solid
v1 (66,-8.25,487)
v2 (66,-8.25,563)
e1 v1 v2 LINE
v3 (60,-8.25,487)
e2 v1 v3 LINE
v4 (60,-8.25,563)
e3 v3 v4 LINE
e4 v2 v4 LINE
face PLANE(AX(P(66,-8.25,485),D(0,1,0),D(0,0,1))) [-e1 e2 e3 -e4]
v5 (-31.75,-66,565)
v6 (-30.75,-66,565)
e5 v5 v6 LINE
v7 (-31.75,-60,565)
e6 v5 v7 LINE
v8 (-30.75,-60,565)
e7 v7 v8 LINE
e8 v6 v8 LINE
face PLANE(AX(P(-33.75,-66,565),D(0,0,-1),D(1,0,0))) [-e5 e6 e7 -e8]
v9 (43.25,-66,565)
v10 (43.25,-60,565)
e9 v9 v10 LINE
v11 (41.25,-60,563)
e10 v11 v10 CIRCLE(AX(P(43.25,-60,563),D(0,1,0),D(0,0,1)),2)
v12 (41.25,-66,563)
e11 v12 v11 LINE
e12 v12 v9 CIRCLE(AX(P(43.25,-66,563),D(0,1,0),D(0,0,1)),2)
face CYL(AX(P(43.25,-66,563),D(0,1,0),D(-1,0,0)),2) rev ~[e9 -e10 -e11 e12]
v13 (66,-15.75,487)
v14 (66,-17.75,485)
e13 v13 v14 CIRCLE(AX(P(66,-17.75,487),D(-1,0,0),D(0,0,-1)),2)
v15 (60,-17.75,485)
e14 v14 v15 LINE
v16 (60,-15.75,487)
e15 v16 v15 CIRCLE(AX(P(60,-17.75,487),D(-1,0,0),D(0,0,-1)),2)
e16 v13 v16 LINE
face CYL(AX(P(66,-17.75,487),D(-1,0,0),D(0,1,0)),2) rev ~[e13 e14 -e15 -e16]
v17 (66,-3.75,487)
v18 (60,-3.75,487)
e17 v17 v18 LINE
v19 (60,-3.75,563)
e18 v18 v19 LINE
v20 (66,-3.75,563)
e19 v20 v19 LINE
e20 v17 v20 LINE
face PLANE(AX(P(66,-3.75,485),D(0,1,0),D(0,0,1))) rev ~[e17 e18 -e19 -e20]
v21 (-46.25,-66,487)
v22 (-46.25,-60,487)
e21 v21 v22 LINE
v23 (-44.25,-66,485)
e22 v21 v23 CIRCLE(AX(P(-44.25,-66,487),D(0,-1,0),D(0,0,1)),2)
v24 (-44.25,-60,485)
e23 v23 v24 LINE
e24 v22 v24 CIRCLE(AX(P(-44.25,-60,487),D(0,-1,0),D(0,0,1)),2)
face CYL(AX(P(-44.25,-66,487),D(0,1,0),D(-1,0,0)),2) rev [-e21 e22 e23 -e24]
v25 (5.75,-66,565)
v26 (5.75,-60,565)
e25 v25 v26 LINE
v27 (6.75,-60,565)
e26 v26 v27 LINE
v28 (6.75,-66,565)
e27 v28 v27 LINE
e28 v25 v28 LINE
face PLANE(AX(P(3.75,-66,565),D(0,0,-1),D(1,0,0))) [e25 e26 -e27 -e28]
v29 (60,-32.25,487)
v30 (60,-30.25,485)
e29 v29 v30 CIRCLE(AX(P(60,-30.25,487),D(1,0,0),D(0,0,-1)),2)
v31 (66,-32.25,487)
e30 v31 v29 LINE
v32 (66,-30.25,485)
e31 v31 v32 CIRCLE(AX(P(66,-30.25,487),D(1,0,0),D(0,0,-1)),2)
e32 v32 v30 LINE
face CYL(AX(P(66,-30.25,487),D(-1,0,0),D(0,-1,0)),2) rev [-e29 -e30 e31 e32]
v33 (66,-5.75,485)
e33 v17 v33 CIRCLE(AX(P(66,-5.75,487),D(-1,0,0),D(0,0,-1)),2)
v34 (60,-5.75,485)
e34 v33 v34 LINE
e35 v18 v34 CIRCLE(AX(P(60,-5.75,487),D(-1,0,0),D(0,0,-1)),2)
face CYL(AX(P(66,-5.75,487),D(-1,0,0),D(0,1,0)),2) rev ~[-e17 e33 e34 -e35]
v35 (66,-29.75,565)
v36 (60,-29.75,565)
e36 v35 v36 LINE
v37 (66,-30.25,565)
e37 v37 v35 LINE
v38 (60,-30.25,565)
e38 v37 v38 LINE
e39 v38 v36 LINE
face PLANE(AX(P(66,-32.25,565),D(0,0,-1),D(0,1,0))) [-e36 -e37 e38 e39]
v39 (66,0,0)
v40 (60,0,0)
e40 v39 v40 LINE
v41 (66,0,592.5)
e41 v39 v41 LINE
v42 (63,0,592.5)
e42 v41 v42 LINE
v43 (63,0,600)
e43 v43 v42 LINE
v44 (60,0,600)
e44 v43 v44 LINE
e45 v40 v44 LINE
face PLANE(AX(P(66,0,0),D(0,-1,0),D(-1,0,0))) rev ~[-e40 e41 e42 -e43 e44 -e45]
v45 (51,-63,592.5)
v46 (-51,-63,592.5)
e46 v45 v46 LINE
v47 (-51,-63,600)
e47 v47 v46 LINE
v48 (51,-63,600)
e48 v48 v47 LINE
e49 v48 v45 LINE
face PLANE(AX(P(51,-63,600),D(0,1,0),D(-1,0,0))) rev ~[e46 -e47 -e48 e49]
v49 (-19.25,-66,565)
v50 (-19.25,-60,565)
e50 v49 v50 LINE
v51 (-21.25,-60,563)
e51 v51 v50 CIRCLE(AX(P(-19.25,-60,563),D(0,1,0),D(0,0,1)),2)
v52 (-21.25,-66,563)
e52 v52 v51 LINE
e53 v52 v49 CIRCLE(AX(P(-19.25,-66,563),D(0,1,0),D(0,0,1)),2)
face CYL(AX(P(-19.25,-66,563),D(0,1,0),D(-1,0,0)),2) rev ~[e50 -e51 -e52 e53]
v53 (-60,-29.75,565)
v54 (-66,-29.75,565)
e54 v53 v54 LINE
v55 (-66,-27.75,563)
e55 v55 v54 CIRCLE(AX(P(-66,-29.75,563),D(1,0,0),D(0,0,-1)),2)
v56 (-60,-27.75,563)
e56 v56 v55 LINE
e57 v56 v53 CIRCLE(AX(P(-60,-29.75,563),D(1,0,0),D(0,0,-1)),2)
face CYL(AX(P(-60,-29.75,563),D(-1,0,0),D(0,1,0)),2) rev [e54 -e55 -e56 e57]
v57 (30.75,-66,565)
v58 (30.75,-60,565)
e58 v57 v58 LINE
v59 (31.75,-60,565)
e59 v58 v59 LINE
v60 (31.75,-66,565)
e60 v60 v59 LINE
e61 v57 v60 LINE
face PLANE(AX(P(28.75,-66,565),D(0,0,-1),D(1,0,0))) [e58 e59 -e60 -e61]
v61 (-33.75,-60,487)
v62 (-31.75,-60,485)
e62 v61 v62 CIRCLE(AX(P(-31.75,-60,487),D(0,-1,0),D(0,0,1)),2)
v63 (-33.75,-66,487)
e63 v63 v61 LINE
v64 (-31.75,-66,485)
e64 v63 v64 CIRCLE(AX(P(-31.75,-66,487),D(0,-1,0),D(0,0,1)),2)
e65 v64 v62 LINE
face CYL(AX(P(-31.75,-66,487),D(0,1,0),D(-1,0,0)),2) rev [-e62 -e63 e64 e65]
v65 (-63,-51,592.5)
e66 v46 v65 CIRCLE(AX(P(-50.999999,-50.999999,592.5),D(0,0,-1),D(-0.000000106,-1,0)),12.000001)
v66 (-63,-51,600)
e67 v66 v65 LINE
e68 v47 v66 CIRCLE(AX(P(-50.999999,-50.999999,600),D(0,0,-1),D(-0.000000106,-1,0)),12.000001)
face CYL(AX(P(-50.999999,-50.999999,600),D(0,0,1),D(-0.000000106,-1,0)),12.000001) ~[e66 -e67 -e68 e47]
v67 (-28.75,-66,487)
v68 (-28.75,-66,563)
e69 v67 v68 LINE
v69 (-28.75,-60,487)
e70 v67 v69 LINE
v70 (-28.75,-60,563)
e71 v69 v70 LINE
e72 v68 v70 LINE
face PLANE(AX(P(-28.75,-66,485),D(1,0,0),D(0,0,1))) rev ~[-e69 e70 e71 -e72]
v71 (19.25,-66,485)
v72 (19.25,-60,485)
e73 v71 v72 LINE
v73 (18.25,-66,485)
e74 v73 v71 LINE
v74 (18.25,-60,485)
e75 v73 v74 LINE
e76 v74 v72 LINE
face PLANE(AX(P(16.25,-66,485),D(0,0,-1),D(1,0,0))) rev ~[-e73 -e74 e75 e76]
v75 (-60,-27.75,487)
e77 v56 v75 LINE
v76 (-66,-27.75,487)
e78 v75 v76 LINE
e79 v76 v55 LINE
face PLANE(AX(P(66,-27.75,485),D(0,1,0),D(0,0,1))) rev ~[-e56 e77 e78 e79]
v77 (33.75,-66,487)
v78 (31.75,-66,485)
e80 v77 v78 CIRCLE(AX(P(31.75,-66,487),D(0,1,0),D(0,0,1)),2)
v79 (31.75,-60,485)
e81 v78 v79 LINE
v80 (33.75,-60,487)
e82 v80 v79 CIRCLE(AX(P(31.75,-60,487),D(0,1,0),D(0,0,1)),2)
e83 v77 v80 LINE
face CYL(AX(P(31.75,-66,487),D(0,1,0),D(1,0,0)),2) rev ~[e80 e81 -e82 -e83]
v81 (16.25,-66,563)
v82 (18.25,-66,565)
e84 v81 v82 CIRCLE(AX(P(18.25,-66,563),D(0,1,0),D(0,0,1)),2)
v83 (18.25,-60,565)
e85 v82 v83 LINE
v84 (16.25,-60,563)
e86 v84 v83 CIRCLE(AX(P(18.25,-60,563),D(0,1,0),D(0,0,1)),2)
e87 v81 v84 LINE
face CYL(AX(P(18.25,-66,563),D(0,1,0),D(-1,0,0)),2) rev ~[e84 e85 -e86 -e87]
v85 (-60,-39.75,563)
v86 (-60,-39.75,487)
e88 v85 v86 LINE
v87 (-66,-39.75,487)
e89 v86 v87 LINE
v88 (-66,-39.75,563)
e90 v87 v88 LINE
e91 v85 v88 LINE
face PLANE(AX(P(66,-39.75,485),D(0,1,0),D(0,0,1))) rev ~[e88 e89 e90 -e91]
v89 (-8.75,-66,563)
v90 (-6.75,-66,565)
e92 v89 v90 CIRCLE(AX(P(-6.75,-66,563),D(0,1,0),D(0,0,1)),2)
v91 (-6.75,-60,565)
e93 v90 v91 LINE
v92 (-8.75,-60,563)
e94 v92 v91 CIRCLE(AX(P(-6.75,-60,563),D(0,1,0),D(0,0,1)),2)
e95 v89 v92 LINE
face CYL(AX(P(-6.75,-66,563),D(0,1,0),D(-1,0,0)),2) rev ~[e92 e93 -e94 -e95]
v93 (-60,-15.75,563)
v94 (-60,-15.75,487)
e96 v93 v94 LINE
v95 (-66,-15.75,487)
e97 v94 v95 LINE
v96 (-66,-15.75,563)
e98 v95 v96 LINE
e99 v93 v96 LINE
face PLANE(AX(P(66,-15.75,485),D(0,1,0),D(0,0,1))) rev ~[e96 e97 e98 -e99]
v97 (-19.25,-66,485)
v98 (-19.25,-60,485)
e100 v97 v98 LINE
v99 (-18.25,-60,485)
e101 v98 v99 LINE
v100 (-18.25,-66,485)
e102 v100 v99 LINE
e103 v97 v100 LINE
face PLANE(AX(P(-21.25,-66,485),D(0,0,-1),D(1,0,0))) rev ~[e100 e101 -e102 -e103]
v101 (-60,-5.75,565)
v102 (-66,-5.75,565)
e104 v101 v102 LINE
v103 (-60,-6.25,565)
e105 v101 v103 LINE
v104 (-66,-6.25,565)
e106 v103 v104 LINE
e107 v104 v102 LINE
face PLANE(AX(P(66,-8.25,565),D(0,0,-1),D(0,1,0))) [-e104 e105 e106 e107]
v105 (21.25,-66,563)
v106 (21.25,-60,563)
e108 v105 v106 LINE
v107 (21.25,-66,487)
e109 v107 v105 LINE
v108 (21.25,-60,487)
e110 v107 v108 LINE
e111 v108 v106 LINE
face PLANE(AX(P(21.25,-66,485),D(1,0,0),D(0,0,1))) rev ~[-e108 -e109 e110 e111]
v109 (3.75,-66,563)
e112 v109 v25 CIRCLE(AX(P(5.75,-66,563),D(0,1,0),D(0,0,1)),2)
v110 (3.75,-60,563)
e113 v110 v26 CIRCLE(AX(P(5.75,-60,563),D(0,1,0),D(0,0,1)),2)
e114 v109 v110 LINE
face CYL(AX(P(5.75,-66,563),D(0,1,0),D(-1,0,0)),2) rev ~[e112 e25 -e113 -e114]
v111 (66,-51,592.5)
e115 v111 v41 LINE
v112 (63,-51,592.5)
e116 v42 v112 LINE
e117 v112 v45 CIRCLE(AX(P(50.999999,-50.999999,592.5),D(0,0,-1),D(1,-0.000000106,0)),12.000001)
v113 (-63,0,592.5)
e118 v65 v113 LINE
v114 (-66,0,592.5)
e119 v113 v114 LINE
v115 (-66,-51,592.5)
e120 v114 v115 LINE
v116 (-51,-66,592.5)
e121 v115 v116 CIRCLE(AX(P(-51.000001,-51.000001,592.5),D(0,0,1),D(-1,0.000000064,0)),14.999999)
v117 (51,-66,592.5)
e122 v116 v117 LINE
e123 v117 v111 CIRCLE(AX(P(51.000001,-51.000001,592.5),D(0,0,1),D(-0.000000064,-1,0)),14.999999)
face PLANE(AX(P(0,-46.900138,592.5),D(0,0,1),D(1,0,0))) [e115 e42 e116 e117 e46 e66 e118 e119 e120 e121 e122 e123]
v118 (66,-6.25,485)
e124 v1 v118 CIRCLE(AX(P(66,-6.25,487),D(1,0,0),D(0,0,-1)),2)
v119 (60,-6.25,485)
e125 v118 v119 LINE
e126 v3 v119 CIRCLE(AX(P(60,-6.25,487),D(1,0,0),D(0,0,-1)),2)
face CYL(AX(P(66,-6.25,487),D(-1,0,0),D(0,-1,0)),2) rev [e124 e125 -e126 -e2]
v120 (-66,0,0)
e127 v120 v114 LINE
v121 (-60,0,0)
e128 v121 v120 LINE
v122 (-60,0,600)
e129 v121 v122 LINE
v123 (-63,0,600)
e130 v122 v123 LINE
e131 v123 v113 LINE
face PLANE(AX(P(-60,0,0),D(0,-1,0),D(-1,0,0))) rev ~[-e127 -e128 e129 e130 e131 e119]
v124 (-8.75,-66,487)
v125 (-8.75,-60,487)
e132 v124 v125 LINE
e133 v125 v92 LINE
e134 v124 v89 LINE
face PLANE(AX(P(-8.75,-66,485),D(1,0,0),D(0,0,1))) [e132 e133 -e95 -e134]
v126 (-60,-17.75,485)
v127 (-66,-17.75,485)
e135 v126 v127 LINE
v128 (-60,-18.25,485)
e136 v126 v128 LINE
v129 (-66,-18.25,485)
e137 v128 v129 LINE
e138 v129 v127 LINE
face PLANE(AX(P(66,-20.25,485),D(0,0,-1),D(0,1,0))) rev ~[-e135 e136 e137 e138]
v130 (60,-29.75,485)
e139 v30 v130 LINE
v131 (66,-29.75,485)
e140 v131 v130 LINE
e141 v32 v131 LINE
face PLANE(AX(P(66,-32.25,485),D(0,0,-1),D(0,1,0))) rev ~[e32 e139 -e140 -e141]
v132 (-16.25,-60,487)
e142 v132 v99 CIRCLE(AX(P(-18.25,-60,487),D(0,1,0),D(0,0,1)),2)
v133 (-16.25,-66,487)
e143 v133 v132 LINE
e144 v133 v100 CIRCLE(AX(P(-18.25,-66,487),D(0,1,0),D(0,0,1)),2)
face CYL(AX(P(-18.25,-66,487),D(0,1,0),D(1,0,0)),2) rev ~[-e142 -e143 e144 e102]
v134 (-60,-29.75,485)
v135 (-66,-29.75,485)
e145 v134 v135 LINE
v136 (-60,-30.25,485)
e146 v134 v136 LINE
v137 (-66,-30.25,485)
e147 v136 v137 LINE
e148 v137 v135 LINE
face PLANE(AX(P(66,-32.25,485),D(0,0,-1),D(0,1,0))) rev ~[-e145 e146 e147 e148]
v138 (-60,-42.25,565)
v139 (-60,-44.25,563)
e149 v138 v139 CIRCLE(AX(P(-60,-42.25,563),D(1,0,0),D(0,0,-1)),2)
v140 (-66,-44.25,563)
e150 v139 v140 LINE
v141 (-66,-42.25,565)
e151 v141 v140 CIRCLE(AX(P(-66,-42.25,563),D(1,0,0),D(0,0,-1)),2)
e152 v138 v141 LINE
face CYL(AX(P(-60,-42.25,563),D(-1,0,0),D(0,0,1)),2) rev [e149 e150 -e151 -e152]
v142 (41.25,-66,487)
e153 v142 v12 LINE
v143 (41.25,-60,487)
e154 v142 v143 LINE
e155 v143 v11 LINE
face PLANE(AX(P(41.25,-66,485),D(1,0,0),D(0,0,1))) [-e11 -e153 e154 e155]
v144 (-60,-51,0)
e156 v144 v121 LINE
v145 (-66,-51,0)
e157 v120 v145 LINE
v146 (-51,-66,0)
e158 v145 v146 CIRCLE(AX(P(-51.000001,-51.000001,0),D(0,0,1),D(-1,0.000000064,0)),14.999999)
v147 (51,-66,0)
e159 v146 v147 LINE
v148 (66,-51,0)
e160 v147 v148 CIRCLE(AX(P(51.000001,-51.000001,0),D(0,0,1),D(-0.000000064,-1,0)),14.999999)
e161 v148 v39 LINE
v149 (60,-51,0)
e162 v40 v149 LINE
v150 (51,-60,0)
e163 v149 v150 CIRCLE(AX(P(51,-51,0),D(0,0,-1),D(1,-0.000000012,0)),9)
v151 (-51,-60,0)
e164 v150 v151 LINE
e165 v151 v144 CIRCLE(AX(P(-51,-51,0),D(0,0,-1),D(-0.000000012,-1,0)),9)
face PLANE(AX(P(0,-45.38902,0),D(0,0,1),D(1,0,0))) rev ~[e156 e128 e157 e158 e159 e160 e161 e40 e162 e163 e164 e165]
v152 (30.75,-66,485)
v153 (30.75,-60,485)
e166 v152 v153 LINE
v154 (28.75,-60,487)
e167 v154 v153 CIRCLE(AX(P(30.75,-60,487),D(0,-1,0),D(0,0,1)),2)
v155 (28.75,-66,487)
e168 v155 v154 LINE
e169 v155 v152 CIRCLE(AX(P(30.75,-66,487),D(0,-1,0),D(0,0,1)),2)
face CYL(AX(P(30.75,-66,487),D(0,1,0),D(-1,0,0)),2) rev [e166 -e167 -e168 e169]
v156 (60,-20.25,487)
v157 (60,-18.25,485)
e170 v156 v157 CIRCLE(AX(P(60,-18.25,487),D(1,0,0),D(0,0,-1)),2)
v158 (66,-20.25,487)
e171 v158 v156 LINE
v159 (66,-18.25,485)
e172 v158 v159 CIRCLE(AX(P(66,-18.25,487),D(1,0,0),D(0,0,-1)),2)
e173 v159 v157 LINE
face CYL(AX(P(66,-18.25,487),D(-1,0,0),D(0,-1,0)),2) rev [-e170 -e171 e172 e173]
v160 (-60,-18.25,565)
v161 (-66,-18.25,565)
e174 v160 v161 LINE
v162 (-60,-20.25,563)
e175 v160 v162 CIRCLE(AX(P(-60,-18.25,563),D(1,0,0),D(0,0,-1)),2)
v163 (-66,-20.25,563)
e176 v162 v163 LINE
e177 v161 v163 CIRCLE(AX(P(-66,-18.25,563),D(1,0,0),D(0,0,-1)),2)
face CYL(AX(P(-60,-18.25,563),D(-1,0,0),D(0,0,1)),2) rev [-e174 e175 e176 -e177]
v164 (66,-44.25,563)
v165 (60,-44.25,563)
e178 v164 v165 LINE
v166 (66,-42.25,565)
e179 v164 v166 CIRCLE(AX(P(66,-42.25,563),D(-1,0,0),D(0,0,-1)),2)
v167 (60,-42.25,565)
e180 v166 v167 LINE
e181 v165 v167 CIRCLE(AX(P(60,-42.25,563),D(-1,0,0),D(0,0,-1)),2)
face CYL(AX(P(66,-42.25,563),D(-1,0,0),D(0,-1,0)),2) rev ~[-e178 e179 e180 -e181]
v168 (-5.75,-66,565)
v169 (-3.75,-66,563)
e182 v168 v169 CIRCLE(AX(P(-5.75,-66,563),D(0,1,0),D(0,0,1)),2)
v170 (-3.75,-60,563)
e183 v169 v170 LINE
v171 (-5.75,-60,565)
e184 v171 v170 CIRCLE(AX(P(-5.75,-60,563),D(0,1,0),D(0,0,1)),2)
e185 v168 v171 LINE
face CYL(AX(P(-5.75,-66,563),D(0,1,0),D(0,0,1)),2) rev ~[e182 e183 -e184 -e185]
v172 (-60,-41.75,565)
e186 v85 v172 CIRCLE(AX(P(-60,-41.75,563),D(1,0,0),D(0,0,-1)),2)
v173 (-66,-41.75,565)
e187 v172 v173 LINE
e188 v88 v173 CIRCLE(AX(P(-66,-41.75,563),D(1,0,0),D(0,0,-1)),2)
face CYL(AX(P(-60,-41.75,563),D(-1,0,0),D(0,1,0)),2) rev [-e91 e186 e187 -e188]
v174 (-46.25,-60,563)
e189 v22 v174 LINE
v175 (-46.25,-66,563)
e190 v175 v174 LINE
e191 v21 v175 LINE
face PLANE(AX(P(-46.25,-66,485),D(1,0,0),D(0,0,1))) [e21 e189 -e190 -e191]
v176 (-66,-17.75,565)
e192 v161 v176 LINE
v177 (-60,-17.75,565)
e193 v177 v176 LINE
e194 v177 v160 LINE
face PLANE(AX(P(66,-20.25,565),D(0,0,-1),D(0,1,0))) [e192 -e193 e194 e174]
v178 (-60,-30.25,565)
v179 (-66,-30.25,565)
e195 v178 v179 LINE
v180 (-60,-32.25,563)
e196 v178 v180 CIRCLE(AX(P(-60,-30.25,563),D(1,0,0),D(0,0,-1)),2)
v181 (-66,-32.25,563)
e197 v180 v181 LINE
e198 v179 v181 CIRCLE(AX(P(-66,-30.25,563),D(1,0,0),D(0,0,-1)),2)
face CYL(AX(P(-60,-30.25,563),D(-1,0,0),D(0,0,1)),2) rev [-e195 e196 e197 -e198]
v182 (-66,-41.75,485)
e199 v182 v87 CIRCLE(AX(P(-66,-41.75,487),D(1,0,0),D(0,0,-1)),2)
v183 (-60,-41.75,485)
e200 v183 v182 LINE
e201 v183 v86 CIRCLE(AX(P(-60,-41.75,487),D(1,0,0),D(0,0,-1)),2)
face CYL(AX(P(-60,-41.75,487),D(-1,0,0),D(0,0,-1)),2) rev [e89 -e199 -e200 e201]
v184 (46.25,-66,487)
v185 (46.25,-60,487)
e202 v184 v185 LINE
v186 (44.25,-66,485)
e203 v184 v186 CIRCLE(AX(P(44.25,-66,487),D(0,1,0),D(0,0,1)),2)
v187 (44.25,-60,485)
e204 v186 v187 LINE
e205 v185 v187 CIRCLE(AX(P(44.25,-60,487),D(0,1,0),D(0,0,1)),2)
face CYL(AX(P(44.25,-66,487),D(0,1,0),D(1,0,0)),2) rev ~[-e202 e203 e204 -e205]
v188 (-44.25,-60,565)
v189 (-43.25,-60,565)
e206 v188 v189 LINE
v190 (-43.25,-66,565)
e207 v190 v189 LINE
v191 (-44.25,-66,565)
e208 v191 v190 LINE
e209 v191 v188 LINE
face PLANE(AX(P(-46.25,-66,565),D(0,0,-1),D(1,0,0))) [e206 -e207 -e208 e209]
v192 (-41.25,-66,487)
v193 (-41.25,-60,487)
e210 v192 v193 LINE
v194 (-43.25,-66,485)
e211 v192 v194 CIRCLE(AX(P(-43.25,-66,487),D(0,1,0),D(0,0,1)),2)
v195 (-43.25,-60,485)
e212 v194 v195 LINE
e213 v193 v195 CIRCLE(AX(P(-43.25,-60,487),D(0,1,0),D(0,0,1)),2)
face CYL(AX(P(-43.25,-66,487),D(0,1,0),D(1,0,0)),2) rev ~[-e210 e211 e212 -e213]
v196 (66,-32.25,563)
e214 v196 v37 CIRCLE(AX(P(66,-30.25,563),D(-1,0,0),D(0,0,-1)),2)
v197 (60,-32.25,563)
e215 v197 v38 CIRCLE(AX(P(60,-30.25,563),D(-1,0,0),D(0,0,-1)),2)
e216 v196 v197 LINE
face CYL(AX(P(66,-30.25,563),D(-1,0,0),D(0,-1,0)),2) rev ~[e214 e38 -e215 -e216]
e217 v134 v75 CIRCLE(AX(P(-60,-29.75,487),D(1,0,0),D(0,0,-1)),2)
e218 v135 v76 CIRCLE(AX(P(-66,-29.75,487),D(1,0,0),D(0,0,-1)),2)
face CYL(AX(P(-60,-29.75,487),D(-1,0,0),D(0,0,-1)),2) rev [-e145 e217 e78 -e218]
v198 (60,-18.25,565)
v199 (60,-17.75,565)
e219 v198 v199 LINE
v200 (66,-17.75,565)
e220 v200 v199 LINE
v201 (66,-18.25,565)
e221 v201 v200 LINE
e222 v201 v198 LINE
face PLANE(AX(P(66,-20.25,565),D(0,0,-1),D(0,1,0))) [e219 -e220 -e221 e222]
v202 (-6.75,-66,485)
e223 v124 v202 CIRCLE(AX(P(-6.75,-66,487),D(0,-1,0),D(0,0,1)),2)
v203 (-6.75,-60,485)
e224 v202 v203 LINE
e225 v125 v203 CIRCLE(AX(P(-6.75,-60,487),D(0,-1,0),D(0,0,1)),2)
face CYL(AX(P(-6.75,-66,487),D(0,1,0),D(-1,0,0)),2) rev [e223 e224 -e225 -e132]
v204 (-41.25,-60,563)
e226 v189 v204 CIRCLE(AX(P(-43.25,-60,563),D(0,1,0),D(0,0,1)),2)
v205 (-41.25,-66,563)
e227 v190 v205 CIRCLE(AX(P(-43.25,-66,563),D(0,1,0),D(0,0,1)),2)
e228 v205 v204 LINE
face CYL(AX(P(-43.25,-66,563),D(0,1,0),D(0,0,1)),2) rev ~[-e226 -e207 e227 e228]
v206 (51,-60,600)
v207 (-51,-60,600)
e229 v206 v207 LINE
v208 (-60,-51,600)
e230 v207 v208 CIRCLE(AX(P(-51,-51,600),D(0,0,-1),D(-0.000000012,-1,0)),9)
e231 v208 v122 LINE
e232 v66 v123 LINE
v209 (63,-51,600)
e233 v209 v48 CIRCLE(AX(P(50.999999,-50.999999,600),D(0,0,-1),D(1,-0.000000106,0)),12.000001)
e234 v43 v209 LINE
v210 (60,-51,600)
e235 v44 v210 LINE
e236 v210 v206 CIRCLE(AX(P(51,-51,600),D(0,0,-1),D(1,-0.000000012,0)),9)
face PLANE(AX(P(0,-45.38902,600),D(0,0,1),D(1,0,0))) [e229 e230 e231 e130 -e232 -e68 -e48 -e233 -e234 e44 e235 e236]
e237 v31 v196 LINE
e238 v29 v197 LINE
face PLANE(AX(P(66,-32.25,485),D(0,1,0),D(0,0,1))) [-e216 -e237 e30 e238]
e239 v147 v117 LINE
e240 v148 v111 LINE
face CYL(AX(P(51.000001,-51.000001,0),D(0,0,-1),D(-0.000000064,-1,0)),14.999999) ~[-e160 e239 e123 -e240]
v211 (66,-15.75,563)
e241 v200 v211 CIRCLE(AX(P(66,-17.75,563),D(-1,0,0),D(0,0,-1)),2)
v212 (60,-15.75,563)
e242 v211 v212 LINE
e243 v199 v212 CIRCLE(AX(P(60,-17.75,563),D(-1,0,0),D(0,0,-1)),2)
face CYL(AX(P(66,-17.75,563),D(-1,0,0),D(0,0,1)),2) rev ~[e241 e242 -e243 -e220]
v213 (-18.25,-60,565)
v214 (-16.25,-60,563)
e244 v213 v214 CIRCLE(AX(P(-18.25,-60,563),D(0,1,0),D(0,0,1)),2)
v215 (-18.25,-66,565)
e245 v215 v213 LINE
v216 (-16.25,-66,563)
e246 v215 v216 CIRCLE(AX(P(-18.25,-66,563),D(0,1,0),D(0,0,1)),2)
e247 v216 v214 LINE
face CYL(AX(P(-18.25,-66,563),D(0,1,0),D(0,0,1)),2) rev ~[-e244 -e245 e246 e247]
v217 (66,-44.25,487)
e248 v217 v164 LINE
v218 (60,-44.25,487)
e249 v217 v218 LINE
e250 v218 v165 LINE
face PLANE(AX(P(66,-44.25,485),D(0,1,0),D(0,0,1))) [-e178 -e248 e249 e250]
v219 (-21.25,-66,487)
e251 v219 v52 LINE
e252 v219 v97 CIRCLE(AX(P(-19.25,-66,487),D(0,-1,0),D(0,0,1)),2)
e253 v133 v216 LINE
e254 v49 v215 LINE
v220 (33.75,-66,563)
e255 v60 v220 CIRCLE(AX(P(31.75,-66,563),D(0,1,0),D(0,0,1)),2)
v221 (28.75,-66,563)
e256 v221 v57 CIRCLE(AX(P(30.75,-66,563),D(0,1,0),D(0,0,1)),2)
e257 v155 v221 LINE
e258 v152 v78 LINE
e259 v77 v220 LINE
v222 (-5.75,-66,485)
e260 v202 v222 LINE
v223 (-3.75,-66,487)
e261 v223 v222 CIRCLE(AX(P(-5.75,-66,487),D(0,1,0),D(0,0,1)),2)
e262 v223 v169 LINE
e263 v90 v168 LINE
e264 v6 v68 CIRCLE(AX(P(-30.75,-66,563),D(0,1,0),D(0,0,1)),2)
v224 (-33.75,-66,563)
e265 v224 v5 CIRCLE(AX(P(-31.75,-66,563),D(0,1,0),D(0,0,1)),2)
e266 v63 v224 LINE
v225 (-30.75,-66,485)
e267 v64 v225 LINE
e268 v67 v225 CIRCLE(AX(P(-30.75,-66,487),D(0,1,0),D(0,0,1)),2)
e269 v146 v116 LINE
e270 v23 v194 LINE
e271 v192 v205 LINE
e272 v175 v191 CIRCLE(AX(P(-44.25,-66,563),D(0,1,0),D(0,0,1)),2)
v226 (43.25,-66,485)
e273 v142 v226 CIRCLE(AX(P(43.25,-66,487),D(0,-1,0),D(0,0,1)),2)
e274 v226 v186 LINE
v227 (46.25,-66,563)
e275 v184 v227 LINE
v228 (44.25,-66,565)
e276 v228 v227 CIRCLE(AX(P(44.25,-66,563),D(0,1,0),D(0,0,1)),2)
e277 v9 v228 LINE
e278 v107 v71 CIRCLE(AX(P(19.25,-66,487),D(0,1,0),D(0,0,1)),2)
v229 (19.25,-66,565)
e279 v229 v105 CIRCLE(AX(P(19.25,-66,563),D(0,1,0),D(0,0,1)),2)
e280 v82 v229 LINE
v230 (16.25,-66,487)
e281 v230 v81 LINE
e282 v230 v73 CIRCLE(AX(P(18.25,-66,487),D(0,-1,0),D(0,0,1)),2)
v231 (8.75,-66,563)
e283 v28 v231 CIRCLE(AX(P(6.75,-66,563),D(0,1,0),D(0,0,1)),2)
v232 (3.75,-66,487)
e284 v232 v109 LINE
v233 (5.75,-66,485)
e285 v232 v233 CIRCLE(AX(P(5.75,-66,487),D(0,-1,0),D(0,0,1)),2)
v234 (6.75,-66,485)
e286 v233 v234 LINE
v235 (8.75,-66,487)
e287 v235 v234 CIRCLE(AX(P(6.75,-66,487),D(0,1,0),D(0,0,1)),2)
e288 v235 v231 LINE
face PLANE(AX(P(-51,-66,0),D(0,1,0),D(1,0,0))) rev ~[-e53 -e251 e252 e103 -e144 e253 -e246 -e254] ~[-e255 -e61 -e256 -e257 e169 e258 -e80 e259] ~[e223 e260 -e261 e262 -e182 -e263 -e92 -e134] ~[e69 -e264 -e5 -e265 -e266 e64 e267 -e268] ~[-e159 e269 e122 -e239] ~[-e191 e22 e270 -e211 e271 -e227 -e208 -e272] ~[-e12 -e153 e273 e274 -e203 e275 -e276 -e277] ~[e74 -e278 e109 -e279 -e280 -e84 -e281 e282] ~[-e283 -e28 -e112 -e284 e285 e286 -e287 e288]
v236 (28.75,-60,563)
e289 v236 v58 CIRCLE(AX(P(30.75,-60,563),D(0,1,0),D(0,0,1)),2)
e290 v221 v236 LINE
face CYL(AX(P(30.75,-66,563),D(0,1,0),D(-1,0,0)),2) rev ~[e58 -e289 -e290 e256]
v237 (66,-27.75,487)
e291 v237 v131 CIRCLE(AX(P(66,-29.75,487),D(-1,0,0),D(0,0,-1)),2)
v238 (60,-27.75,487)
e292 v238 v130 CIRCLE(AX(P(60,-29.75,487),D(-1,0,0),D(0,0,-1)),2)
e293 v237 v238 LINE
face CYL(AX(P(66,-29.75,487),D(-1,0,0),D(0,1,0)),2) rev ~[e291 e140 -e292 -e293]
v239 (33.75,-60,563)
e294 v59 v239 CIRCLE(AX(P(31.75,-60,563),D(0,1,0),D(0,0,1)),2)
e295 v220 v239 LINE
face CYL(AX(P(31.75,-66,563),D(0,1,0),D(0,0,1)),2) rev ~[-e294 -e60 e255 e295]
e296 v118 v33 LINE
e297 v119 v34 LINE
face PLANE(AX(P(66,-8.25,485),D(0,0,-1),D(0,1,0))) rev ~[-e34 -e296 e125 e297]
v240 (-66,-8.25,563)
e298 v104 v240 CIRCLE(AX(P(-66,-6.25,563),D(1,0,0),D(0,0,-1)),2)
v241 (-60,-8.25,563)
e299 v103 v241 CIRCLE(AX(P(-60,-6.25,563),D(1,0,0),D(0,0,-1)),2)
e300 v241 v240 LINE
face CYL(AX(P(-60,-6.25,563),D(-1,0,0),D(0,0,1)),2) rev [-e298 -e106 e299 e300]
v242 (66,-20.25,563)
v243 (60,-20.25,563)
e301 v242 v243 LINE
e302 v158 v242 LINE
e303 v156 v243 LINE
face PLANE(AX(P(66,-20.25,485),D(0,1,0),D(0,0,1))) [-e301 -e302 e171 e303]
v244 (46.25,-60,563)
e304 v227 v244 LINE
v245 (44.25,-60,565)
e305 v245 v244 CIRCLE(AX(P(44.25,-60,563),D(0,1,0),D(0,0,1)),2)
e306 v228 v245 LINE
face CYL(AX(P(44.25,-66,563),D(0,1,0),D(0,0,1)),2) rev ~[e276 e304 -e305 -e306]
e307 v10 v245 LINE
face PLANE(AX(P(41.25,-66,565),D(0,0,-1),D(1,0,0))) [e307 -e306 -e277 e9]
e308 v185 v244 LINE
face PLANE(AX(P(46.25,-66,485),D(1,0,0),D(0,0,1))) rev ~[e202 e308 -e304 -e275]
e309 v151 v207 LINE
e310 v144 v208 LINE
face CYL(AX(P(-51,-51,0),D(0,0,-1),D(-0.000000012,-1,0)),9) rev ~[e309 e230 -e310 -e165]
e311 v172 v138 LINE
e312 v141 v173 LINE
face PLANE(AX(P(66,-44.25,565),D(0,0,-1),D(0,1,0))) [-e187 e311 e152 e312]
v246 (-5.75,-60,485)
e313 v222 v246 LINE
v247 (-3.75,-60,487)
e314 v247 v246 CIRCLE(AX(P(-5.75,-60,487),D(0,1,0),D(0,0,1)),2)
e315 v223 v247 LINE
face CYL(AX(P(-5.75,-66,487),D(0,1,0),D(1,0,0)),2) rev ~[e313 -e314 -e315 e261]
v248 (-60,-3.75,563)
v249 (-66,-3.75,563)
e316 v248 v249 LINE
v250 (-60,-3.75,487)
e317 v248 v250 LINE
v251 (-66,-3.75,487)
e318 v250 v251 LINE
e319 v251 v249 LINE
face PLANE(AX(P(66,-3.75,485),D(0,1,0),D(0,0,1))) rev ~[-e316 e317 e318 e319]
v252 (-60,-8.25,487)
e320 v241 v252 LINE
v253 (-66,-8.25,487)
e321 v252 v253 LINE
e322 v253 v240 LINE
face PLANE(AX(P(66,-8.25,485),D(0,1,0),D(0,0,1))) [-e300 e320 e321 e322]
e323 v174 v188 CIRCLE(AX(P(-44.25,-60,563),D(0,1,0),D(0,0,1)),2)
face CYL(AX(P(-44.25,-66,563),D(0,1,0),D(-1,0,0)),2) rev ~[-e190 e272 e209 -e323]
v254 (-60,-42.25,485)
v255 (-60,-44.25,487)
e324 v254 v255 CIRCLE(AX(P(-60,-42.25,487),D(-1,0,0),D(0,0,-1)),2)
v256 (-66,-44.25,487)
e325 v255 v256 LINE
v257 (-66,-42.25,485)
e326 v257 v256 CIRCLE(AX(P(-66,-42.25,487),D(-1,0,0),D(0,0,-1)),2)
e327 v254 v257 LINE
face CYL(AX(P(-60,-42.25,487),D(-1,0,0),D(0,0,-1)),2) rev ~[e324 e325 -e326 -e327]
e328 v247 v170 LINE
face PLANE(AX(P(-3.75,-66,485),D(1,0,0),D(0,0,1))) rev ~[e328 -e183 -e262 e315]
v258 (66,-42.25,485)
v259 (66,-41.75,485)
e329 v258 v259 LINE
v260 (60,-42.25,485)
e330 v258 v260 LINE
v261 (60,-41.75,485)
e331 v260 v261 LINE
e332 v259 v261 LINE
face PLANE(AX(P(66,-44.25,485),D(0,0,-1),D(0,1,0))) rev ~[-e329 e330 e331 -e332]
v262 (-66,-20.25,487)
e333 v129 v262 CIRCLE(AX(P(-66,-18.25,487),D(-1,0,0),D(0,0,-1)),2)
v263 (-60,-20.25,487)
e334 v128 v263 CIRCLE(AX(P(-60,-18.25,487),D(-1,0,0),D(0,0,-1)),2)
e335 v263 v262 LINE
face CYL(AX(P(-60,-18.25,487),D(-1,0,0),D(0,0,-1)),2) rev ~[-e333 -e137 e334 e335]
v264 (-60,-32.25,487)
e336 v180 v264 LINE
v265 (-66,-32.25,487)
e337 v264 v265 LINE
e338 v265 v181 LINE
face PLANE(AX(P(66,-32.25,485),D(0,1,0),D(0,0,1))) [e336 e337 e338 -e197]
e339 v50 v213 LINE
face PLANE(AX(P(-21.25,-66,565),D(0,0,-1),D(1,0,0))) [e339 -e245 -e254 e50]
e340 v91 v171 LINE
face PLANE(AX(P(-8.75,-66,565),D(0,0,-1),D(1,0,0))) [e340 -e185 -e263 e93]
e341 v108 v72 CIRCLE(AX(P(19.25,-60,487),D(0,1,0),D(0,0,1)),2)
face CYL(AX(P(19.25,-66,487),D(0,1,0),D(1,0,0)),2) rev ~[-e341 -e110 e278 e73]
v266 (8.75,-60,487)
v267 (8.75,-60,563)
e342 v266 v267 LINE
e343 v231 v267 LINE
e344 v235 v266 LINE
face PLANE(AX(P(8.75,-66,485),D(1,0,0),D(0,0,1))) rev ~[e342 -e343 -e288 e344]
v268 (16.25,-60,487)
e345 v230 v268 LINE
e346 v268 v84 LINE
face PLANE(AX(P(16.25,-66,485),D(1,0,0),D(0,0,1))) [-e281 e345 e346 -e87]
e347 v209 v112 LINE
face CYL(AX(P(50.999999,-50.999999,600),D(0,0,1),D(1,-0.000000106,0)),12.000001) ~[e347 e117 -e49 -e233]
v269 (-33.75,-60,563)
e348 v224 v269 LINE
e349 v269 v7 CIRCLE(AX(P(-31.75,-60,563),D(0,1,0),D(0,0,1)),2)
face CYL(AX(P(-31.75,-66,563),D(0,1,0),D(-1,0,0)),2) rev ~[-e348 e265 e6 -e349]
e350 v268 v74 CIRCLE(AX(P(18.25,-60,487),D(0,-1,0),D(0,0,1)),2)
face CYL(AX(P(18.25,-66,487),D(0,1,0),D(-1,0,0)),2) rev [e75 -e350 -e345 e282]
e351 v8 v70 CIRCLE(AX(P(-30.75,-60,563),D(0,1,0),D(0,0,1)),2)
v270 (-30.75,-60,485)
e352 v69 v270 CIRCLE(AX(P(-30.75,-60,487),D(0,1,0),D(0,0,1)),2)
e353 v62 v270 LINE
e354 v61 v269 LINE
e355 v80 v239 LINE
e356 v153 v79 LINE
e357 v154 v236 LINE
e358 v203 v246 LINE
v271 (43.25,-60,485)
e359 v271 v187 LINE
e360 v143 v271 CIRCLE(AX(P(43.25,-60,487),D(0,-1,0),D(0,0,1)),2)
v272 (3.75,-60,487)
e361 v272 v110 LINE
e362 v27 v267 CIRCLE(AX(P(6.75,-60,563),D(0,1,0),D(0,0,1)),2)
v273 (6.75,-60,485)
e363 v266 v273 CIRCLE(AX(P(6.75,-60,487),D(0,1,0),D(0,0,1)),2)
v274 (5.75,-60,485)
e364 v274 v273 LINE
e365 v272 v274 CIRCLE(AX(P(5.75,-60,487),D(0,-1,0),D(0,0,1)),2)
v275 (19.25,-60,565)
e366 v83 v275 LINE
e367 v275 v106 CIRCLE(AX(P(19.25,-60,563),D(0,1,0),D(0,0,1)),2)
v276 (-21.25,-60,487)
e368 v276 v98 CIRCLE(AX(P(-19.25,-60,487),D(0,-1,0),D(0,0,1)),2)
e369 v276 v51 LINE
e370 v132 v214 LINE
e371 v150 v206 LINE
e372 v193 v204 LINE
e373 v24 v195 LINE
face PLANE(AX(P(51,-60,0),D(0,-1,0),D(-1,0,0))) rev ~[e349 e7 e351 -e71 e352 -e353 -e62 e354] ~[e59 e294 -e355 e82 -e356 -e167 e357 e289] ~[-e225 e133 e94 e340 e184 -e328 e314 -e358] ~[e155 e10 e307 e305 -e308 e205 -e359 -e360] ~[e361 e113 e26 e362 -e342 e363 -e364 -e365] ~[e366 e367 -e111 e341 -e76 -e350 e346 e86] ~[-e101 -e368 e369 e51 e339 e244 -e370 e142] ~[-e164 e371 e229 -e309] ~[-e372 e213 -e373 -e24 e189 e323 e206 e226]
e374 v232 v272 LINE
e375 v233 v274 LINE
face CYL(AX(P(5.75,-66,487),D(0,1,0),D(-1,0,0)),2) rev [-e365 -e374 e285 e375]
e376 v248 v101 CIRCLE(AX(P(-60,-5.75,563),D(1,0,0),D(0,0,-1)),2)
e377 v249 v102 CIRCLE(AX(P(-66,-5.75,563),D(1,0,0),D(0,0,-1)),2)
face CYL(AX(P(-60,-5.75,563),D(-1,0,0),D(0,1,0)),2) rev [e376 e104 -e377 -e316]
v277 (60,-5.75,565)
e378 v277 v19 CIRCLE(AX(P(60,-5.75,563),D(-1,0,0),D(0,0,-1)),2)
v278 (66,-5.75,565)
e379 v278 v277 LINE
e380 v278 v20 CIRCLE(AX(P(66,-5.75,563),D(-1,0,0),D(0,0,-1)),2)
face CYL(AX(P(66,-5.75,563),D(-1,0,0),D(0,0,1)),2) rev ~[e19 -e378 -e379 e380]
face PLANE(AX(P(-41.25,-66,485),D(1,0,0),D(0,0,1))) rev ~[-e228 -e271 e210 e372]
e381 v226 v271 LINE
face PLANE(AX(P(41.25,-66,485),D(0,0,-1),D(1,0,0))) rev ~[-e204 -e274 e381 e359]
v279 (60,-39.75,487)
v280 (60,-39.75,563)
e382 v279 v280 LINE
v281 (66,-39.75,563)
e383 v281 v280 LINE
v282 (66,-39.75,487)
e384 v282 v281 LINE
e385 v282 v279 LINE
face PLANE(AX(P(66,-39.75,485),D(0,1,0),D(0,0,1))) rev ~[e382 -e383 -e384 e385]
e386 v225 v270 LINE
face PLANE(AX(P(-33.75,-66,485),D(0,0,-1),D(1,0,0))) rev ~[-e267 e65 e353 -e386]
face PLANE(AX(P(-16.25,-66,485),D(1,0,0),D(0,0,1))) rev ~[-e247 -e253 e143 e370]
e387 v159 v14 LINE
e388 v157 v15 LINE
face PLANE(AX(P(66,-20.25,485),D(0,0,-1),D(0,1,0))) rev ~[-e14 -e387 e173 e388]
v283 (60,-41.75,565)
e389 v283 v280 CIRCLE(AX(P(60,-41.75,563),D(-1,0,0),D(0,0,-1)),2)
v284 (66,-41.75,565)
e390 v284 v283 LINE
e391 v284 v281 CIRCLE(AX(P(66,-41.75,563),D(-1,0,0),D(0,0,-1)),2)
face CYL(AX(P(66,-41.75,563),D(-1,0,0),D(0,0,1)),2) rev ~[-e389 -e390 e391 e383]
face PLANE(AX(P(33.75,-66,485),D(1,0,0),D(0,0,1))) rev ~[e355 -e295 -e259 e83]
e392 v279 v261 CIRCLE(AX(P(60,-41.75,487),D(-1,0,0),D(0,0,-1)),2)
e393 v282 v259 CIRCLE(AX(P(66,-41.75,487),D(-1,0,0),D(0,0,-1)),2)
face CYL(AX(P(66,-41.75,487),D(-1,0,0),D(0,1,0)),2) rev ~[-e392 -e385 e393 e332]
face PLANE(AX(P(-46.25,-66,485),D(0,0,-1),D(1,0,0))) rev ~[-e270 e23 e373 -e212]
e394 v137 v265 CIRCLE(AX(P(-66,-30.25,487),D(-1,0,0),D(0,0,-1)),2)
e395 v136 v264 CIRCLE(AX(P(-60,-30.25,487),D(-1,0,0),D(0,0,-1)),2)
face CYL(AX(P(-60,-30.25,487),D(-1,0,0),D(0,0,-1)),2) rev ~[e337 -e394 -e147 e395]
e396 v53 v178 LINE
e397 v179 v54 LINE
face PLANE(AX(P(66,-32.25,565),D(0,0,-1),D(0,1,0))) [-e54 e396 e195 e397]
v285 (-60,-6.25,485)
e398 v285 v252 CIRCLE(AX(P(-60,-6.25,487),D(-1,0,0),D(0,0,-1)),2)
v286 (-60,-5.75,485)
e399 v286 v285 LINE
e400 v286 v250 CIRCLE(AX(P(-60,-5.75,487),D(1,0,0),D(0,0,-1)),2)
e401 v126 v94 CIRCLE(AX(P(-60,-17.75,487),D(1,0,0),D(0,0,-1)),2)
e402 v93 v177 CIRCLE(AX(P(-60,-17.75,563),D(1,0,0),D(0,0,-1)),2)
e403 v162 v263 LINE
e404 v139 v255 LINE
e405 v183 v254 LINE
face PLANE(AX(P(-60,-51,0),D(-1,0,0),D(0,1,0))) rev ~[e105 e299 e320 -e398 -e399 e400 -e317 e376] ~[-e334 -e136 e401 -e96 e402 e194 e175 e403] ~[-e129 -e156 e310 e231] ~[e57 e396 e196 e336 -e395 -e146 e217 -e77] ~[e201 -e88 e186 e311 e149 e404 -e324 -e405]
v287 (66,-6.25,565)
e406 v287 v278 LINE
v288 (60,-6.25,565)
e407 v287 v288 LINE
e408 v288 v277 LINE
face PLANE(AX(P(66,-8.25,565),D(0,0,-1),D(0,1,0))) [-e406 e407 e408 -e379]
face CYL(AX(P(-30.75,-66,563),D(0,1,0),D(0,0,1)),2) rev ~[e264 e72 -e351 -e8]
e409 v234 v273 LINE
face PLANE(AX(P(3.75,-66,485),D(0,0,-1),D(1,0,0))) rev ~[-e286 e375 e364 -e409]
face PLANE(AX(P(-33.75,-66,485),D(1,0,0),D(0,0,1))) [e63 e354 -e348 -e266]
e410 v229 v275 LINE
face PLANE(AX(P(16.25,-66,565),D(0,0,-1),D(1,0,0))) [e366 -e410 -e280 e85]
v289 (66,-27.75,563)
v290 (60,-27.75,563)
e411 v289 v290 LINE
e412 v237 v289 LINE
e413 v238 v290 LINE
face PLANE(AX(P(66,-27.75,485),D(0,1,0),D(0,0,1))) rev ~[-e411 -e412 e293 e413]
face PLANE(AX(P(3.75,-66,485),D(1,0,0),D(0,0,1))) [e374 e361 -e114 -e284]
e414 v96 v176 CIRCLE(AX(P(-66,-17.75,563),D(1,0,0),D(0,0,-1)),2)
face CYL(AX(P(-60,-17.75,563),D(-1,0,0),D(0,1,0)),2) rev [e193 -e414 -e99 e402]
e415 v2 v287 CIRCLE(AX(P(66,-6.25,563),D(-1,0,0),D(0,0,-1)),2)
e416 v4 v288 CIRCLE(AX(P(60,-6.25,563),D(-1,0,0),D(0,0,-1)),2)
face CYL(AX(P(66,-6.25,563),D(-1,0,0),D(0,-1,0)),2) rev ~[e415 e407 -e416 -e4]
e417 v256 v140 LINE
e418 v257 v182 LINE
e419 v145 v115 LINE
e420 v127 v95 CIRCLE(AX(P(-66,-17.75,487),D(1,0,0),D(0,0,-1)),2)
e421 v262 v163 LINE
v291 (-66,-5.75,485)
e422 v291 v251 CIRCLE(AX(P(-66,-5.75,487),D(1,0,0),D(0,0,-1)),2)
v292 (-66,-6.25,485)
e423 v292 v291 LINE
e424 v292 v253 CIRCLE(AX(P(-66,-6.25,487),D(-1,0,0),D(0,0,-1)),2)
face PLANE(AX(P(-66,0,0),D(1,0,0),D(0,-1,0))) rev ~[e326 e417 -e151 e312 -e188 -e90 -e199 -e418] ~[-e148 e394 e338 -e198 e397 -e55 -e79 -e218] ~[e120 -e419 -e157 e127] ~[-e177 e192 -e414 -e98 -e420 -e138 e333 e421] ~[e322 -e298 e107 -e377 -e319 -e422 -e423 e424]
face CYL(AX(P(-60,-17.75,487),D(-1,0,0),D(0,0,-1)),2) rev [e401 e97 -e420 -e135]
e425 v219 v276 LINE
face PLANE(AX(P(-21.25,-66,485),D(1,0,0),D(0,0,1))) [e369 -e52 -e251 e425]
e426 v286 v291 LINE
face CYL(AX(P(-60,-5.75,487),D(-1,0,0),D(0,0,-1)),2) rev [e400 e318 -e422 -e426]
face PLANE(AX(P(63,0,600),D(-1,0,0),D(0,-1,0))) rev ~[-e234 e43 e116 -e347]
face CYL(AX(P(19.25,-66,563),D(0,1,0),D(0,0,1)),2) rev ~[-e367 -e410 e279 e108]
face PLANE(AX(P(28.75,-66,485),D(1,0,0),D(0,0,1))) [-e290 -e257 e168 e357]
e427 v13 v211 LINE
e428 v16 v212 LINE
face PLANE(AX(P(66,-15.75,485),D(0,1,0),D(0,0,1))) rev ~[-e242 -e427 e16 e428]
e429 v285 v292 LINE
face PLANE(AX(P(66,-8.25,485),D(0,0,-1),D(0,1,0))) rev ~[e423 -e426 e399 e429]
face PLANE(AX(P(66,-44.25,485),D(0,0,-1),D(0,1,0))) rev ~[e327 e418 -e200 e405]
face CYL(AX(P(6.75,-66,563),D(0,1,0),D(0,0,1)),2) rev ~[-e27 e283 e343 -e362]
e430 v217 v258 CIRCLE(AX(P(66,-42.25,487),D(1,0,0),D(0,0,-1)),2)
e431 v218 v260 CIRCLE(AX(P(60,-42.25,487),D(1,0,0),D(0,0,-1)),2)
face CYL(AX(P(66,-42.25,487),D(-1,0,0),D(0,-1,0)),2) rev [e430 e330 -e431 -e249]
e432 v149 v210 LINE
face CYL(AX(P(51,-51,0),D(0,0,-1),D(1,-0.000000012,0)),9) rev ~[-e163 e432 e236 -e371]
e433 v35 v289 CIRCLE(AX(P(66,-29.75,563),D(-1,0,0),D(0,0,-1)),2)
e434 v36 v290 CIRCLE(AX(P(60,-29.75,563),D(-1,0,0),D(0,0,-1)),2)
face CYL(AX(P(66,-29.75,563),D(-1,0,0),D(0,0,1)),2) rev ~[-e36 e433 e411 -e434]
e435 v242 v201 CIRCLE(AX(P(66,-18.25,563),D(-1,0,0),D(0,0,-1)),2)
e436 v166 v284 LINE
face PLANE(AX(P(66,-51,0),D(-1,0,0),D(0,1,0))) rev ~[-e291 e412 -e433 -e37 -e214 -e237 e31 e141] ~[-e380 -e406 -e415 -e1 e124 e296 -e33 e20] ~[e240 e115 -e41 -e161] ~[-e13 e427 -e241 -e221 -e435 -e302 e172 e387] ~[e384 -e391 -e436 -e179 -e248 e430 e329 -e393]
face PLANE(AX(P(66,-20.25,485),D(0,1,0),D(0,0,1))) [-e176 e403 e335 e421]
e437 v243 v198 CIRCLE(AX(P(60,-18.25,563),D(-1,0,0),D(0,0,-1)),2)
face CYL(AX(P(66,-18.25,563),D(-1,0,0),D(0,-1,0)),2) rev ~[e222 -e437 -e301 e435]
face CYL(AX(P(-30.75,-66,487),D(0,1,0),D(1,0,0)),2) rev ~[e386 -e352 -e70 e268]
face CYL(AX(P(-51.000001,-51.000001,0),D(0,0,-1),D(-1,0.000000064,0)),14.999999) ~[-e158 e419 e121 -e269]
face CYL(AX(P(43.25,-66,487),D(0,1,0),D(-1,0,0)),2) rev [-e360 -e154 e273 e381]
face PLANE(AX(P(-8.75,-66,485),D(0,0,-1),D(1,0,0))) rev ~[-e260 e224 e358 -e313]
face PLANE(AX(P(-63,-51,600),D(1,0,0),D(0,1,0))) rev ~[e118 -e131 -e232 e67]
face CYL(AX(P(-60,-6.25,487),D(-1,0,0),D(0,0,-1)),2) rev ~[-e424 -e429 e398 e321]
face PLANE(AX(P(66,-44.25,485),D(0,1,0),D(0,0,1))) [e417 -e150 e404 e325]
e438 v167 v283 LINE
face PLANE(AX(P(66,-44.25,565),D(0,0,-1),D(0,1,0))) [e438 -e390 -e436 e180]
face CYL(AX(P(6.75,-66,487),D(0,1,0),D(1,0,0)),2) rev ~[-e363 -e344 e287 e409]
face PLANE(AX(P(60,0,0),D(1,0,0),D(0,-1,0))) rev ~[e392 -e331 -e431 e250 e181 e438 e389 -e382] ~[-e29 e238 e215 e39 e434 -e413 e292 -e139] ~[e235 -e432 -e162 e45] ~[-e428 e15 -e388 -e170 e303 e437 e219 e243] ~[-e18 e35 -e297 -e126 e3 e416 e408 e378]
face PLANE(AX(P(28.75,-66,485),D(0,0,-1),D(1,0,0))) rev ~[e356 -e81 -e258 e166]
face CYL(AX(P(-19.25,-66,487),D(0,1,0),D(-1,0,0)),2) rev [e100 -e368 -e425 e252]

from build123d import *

# Parameters (mm, degrees)
F1_DEPTH = 600
F2_W     = 5
F2_H     = 80
F3_DEPTH = 25
F4_R     = 2
F5_W     = 4.5
F5_H     = 80
F6_DEPTH = 132.001
F7_R     = 2
F9_DEPTH = 7.5


with BuildPart() as f1:
    # F0 (on Top) → F1 (new body)
    with BuildSketch(Plane.XY):
        with BuildLine():
            Line((-60, 0), (-66, 0))
            Line((-66, 0), (-66, -51))
            ThreePointArc((-66, -51), (-61.606602, -61.606602), (-51, -66))
            Line((-51, -66), (51, -66))
            ThreePointArc((51, -66), (61.606602, -61.606602), (66, -51))
            Line((66, -51), (66, 0))
            Line((66, 0), (60, 0))
            Line((60, 0), (60, -51))
            ThreePointArc((60, -51), (57.363961, -57.363961), (51, -60))
            Line((51, -60), (-51, -60))
            ThreePointArc((-51, -60), (-57.363961, -57.363961), (-60, -51))
            Line((-60, -51), (-60, 0))
        make_face()
    extrude(amount=F1_DEPTH)

    # F2 (on face) → F3 (cut)
    with BuildSketch(Plane.XZ.offset(66)):
        with Locations((-43.75, 525)):
            Rectangle(F2_W, F2_H)
        with Locations((-31.25, 525)):
            Rectangle(F2_W, F2_H)
        with Locations((-18.75, 525)):
            Rectangle(F2_W, F2_H)
        with Locations((-6.25, 525)):
            Rectangle(F2_W, F2_H)
        with Locations((6.25, 525)):
            Rectangle(F2_W, F2_H)
        with Locations((18.75, 525)):
            Rectangle(F2_W, F2_H)
        with Locations((31.25, 525)):
            Rectangle(F2_W, F2_H)
        with Locations((43.75, 525)):
            Rectangle(F2_W, F2_H)
    extrude(amount=-F3_DEPTH, mode=Mode.SUBTRACT)

    # F4
    f4_edges = [f1.edges().sort_by_distance(p)[0] for p in [
        (-46.25, -63, 485),
        (-33.75, -63, 485),
        (-21.25, -63, 485),
        (-8.75, -63, 485),
        (3.75, -63, 485),
        (16.25, -63, 485),
        (28.75, -63, 485),
        (41.25, -63, 485),
        (-46.25, -63, 565),
        (-33.75, -63, 565),
        (-21.25, -63, 565),
        (-8.75, -63, 565),
        (3.75, -63, 565),
        (16.25, -63, 565),
        (28.75, -63, 565),
        (41.25, -63, 565),
        (-41.25, -63, 565),
        (-28.75, -63, 565),
        (-16.25, -63, 565),
        (-3.75, -63, 565),
        (8.75, -63, 565),
        (21.25, -63, 565),
        (33.75, -63, 565),
        (46.25, -63, 565),
        (46.25, -63, 485),
        (33.75, -63, 485),
        (21.25, -63, 485),
        (8.75, -63, 485),
        (-3.75, -63, 485),
        (-16.25, -63, 485),
        (-28.75, -63, 485),
        (-41.25, -63, 485),
    ]]
    fillet(f4_edges, radius=F4_R)

    # F5 (on face) → F6 (cut, through all)
    with BuildSketch(Plane.YZ.offset(66)):
        with Locations((-42, 525)):
            Rectangle(F5_W, F5_H)
        with Locations((-30, 525)):
            Rectangle(F5_W, F5_H)
        with Locations((-18, 525)):
            Rectangle(F5_W, F5_H)
        with Locations((-6, 525)):
            Rectangle(F5_W, F5_H)
    extrude(amount=-F6_DEPTH, mode=Mode.SUBTRACT)

    # F7
    f7_edges = [f1.edges().sort_by_distance(p)[0] for p in [
        (-63, -3.75, 485),
        (63, -3.75, 485),
        (-63, -15.75, 485),
        (63, -15.75, 485),
        (-63, -27.75, 485),
        (63, -27.75, 485),
        (-63, -39.75, 485),
        (63, -39.75, 485),
        (-63, -44.25, 485),
        (63, -44.25, 485),
        (-63, -32.25, 485),
        (63, -32.25, 485),
        (-63, -20.25, 485),
        (63, -20.25, 485),
        (-63, -8.25, 485),
        (63, -8.25, 485),
        (-63, -39.75, 565),
        (63, -39.75, 565),
        (-63, -27.75, 565),
        (63, -27.75, 565),
        (-63, -15.75, 565),
        (63, -15.75, 565),
        (-63, -3.75, 565),
        (63, -3.75, 565),
        (-63, -8.25, 565),
        (63, -8.25, 565),
        (-63, -20.25, 565),
        (63, -20.25, 565),
        (-63, -32.25, 565),
        (63, -32.25, 565),
        (-63, -44.25, 565),
        (63, -44.25, 565),
    ]]
    fillet(f7_edges, radius=F7_R)

    # F8 (on face) → F9 (cut)
    with BuildSketch(Plane.XY.offset(600)):
        with BuildLine():
            Line((-63, -51), (-63, 0))
            Line((-63, 0), (-66, 0))
            Line((-66, 0), (-66, -51))
            ThreePointArc((-66, -51), (-61.606602, -61.606602), (-51, -66))
            Line((-51, -66), (51, -66))
            ThreePointArc((51, -66), (61.606602, -61.606602), (66, -51))
            Line((66, -51), (66, 0))
            Line((66, 0), (63, 0))
            Line((63, 0), (63, -51))
            ThreePointArc((63, -51), (59.485281, -59.485281), (51, -63))
            Line((51, -63), (-51, -63))
            ThreePointArc((-51, -63), (-59.485281, -59.485281), (-63, -51))
        make_face()
    extrude(amount=-F9_DEPTH, mode=Mode.SUBTRACT)


solid = f1.part
